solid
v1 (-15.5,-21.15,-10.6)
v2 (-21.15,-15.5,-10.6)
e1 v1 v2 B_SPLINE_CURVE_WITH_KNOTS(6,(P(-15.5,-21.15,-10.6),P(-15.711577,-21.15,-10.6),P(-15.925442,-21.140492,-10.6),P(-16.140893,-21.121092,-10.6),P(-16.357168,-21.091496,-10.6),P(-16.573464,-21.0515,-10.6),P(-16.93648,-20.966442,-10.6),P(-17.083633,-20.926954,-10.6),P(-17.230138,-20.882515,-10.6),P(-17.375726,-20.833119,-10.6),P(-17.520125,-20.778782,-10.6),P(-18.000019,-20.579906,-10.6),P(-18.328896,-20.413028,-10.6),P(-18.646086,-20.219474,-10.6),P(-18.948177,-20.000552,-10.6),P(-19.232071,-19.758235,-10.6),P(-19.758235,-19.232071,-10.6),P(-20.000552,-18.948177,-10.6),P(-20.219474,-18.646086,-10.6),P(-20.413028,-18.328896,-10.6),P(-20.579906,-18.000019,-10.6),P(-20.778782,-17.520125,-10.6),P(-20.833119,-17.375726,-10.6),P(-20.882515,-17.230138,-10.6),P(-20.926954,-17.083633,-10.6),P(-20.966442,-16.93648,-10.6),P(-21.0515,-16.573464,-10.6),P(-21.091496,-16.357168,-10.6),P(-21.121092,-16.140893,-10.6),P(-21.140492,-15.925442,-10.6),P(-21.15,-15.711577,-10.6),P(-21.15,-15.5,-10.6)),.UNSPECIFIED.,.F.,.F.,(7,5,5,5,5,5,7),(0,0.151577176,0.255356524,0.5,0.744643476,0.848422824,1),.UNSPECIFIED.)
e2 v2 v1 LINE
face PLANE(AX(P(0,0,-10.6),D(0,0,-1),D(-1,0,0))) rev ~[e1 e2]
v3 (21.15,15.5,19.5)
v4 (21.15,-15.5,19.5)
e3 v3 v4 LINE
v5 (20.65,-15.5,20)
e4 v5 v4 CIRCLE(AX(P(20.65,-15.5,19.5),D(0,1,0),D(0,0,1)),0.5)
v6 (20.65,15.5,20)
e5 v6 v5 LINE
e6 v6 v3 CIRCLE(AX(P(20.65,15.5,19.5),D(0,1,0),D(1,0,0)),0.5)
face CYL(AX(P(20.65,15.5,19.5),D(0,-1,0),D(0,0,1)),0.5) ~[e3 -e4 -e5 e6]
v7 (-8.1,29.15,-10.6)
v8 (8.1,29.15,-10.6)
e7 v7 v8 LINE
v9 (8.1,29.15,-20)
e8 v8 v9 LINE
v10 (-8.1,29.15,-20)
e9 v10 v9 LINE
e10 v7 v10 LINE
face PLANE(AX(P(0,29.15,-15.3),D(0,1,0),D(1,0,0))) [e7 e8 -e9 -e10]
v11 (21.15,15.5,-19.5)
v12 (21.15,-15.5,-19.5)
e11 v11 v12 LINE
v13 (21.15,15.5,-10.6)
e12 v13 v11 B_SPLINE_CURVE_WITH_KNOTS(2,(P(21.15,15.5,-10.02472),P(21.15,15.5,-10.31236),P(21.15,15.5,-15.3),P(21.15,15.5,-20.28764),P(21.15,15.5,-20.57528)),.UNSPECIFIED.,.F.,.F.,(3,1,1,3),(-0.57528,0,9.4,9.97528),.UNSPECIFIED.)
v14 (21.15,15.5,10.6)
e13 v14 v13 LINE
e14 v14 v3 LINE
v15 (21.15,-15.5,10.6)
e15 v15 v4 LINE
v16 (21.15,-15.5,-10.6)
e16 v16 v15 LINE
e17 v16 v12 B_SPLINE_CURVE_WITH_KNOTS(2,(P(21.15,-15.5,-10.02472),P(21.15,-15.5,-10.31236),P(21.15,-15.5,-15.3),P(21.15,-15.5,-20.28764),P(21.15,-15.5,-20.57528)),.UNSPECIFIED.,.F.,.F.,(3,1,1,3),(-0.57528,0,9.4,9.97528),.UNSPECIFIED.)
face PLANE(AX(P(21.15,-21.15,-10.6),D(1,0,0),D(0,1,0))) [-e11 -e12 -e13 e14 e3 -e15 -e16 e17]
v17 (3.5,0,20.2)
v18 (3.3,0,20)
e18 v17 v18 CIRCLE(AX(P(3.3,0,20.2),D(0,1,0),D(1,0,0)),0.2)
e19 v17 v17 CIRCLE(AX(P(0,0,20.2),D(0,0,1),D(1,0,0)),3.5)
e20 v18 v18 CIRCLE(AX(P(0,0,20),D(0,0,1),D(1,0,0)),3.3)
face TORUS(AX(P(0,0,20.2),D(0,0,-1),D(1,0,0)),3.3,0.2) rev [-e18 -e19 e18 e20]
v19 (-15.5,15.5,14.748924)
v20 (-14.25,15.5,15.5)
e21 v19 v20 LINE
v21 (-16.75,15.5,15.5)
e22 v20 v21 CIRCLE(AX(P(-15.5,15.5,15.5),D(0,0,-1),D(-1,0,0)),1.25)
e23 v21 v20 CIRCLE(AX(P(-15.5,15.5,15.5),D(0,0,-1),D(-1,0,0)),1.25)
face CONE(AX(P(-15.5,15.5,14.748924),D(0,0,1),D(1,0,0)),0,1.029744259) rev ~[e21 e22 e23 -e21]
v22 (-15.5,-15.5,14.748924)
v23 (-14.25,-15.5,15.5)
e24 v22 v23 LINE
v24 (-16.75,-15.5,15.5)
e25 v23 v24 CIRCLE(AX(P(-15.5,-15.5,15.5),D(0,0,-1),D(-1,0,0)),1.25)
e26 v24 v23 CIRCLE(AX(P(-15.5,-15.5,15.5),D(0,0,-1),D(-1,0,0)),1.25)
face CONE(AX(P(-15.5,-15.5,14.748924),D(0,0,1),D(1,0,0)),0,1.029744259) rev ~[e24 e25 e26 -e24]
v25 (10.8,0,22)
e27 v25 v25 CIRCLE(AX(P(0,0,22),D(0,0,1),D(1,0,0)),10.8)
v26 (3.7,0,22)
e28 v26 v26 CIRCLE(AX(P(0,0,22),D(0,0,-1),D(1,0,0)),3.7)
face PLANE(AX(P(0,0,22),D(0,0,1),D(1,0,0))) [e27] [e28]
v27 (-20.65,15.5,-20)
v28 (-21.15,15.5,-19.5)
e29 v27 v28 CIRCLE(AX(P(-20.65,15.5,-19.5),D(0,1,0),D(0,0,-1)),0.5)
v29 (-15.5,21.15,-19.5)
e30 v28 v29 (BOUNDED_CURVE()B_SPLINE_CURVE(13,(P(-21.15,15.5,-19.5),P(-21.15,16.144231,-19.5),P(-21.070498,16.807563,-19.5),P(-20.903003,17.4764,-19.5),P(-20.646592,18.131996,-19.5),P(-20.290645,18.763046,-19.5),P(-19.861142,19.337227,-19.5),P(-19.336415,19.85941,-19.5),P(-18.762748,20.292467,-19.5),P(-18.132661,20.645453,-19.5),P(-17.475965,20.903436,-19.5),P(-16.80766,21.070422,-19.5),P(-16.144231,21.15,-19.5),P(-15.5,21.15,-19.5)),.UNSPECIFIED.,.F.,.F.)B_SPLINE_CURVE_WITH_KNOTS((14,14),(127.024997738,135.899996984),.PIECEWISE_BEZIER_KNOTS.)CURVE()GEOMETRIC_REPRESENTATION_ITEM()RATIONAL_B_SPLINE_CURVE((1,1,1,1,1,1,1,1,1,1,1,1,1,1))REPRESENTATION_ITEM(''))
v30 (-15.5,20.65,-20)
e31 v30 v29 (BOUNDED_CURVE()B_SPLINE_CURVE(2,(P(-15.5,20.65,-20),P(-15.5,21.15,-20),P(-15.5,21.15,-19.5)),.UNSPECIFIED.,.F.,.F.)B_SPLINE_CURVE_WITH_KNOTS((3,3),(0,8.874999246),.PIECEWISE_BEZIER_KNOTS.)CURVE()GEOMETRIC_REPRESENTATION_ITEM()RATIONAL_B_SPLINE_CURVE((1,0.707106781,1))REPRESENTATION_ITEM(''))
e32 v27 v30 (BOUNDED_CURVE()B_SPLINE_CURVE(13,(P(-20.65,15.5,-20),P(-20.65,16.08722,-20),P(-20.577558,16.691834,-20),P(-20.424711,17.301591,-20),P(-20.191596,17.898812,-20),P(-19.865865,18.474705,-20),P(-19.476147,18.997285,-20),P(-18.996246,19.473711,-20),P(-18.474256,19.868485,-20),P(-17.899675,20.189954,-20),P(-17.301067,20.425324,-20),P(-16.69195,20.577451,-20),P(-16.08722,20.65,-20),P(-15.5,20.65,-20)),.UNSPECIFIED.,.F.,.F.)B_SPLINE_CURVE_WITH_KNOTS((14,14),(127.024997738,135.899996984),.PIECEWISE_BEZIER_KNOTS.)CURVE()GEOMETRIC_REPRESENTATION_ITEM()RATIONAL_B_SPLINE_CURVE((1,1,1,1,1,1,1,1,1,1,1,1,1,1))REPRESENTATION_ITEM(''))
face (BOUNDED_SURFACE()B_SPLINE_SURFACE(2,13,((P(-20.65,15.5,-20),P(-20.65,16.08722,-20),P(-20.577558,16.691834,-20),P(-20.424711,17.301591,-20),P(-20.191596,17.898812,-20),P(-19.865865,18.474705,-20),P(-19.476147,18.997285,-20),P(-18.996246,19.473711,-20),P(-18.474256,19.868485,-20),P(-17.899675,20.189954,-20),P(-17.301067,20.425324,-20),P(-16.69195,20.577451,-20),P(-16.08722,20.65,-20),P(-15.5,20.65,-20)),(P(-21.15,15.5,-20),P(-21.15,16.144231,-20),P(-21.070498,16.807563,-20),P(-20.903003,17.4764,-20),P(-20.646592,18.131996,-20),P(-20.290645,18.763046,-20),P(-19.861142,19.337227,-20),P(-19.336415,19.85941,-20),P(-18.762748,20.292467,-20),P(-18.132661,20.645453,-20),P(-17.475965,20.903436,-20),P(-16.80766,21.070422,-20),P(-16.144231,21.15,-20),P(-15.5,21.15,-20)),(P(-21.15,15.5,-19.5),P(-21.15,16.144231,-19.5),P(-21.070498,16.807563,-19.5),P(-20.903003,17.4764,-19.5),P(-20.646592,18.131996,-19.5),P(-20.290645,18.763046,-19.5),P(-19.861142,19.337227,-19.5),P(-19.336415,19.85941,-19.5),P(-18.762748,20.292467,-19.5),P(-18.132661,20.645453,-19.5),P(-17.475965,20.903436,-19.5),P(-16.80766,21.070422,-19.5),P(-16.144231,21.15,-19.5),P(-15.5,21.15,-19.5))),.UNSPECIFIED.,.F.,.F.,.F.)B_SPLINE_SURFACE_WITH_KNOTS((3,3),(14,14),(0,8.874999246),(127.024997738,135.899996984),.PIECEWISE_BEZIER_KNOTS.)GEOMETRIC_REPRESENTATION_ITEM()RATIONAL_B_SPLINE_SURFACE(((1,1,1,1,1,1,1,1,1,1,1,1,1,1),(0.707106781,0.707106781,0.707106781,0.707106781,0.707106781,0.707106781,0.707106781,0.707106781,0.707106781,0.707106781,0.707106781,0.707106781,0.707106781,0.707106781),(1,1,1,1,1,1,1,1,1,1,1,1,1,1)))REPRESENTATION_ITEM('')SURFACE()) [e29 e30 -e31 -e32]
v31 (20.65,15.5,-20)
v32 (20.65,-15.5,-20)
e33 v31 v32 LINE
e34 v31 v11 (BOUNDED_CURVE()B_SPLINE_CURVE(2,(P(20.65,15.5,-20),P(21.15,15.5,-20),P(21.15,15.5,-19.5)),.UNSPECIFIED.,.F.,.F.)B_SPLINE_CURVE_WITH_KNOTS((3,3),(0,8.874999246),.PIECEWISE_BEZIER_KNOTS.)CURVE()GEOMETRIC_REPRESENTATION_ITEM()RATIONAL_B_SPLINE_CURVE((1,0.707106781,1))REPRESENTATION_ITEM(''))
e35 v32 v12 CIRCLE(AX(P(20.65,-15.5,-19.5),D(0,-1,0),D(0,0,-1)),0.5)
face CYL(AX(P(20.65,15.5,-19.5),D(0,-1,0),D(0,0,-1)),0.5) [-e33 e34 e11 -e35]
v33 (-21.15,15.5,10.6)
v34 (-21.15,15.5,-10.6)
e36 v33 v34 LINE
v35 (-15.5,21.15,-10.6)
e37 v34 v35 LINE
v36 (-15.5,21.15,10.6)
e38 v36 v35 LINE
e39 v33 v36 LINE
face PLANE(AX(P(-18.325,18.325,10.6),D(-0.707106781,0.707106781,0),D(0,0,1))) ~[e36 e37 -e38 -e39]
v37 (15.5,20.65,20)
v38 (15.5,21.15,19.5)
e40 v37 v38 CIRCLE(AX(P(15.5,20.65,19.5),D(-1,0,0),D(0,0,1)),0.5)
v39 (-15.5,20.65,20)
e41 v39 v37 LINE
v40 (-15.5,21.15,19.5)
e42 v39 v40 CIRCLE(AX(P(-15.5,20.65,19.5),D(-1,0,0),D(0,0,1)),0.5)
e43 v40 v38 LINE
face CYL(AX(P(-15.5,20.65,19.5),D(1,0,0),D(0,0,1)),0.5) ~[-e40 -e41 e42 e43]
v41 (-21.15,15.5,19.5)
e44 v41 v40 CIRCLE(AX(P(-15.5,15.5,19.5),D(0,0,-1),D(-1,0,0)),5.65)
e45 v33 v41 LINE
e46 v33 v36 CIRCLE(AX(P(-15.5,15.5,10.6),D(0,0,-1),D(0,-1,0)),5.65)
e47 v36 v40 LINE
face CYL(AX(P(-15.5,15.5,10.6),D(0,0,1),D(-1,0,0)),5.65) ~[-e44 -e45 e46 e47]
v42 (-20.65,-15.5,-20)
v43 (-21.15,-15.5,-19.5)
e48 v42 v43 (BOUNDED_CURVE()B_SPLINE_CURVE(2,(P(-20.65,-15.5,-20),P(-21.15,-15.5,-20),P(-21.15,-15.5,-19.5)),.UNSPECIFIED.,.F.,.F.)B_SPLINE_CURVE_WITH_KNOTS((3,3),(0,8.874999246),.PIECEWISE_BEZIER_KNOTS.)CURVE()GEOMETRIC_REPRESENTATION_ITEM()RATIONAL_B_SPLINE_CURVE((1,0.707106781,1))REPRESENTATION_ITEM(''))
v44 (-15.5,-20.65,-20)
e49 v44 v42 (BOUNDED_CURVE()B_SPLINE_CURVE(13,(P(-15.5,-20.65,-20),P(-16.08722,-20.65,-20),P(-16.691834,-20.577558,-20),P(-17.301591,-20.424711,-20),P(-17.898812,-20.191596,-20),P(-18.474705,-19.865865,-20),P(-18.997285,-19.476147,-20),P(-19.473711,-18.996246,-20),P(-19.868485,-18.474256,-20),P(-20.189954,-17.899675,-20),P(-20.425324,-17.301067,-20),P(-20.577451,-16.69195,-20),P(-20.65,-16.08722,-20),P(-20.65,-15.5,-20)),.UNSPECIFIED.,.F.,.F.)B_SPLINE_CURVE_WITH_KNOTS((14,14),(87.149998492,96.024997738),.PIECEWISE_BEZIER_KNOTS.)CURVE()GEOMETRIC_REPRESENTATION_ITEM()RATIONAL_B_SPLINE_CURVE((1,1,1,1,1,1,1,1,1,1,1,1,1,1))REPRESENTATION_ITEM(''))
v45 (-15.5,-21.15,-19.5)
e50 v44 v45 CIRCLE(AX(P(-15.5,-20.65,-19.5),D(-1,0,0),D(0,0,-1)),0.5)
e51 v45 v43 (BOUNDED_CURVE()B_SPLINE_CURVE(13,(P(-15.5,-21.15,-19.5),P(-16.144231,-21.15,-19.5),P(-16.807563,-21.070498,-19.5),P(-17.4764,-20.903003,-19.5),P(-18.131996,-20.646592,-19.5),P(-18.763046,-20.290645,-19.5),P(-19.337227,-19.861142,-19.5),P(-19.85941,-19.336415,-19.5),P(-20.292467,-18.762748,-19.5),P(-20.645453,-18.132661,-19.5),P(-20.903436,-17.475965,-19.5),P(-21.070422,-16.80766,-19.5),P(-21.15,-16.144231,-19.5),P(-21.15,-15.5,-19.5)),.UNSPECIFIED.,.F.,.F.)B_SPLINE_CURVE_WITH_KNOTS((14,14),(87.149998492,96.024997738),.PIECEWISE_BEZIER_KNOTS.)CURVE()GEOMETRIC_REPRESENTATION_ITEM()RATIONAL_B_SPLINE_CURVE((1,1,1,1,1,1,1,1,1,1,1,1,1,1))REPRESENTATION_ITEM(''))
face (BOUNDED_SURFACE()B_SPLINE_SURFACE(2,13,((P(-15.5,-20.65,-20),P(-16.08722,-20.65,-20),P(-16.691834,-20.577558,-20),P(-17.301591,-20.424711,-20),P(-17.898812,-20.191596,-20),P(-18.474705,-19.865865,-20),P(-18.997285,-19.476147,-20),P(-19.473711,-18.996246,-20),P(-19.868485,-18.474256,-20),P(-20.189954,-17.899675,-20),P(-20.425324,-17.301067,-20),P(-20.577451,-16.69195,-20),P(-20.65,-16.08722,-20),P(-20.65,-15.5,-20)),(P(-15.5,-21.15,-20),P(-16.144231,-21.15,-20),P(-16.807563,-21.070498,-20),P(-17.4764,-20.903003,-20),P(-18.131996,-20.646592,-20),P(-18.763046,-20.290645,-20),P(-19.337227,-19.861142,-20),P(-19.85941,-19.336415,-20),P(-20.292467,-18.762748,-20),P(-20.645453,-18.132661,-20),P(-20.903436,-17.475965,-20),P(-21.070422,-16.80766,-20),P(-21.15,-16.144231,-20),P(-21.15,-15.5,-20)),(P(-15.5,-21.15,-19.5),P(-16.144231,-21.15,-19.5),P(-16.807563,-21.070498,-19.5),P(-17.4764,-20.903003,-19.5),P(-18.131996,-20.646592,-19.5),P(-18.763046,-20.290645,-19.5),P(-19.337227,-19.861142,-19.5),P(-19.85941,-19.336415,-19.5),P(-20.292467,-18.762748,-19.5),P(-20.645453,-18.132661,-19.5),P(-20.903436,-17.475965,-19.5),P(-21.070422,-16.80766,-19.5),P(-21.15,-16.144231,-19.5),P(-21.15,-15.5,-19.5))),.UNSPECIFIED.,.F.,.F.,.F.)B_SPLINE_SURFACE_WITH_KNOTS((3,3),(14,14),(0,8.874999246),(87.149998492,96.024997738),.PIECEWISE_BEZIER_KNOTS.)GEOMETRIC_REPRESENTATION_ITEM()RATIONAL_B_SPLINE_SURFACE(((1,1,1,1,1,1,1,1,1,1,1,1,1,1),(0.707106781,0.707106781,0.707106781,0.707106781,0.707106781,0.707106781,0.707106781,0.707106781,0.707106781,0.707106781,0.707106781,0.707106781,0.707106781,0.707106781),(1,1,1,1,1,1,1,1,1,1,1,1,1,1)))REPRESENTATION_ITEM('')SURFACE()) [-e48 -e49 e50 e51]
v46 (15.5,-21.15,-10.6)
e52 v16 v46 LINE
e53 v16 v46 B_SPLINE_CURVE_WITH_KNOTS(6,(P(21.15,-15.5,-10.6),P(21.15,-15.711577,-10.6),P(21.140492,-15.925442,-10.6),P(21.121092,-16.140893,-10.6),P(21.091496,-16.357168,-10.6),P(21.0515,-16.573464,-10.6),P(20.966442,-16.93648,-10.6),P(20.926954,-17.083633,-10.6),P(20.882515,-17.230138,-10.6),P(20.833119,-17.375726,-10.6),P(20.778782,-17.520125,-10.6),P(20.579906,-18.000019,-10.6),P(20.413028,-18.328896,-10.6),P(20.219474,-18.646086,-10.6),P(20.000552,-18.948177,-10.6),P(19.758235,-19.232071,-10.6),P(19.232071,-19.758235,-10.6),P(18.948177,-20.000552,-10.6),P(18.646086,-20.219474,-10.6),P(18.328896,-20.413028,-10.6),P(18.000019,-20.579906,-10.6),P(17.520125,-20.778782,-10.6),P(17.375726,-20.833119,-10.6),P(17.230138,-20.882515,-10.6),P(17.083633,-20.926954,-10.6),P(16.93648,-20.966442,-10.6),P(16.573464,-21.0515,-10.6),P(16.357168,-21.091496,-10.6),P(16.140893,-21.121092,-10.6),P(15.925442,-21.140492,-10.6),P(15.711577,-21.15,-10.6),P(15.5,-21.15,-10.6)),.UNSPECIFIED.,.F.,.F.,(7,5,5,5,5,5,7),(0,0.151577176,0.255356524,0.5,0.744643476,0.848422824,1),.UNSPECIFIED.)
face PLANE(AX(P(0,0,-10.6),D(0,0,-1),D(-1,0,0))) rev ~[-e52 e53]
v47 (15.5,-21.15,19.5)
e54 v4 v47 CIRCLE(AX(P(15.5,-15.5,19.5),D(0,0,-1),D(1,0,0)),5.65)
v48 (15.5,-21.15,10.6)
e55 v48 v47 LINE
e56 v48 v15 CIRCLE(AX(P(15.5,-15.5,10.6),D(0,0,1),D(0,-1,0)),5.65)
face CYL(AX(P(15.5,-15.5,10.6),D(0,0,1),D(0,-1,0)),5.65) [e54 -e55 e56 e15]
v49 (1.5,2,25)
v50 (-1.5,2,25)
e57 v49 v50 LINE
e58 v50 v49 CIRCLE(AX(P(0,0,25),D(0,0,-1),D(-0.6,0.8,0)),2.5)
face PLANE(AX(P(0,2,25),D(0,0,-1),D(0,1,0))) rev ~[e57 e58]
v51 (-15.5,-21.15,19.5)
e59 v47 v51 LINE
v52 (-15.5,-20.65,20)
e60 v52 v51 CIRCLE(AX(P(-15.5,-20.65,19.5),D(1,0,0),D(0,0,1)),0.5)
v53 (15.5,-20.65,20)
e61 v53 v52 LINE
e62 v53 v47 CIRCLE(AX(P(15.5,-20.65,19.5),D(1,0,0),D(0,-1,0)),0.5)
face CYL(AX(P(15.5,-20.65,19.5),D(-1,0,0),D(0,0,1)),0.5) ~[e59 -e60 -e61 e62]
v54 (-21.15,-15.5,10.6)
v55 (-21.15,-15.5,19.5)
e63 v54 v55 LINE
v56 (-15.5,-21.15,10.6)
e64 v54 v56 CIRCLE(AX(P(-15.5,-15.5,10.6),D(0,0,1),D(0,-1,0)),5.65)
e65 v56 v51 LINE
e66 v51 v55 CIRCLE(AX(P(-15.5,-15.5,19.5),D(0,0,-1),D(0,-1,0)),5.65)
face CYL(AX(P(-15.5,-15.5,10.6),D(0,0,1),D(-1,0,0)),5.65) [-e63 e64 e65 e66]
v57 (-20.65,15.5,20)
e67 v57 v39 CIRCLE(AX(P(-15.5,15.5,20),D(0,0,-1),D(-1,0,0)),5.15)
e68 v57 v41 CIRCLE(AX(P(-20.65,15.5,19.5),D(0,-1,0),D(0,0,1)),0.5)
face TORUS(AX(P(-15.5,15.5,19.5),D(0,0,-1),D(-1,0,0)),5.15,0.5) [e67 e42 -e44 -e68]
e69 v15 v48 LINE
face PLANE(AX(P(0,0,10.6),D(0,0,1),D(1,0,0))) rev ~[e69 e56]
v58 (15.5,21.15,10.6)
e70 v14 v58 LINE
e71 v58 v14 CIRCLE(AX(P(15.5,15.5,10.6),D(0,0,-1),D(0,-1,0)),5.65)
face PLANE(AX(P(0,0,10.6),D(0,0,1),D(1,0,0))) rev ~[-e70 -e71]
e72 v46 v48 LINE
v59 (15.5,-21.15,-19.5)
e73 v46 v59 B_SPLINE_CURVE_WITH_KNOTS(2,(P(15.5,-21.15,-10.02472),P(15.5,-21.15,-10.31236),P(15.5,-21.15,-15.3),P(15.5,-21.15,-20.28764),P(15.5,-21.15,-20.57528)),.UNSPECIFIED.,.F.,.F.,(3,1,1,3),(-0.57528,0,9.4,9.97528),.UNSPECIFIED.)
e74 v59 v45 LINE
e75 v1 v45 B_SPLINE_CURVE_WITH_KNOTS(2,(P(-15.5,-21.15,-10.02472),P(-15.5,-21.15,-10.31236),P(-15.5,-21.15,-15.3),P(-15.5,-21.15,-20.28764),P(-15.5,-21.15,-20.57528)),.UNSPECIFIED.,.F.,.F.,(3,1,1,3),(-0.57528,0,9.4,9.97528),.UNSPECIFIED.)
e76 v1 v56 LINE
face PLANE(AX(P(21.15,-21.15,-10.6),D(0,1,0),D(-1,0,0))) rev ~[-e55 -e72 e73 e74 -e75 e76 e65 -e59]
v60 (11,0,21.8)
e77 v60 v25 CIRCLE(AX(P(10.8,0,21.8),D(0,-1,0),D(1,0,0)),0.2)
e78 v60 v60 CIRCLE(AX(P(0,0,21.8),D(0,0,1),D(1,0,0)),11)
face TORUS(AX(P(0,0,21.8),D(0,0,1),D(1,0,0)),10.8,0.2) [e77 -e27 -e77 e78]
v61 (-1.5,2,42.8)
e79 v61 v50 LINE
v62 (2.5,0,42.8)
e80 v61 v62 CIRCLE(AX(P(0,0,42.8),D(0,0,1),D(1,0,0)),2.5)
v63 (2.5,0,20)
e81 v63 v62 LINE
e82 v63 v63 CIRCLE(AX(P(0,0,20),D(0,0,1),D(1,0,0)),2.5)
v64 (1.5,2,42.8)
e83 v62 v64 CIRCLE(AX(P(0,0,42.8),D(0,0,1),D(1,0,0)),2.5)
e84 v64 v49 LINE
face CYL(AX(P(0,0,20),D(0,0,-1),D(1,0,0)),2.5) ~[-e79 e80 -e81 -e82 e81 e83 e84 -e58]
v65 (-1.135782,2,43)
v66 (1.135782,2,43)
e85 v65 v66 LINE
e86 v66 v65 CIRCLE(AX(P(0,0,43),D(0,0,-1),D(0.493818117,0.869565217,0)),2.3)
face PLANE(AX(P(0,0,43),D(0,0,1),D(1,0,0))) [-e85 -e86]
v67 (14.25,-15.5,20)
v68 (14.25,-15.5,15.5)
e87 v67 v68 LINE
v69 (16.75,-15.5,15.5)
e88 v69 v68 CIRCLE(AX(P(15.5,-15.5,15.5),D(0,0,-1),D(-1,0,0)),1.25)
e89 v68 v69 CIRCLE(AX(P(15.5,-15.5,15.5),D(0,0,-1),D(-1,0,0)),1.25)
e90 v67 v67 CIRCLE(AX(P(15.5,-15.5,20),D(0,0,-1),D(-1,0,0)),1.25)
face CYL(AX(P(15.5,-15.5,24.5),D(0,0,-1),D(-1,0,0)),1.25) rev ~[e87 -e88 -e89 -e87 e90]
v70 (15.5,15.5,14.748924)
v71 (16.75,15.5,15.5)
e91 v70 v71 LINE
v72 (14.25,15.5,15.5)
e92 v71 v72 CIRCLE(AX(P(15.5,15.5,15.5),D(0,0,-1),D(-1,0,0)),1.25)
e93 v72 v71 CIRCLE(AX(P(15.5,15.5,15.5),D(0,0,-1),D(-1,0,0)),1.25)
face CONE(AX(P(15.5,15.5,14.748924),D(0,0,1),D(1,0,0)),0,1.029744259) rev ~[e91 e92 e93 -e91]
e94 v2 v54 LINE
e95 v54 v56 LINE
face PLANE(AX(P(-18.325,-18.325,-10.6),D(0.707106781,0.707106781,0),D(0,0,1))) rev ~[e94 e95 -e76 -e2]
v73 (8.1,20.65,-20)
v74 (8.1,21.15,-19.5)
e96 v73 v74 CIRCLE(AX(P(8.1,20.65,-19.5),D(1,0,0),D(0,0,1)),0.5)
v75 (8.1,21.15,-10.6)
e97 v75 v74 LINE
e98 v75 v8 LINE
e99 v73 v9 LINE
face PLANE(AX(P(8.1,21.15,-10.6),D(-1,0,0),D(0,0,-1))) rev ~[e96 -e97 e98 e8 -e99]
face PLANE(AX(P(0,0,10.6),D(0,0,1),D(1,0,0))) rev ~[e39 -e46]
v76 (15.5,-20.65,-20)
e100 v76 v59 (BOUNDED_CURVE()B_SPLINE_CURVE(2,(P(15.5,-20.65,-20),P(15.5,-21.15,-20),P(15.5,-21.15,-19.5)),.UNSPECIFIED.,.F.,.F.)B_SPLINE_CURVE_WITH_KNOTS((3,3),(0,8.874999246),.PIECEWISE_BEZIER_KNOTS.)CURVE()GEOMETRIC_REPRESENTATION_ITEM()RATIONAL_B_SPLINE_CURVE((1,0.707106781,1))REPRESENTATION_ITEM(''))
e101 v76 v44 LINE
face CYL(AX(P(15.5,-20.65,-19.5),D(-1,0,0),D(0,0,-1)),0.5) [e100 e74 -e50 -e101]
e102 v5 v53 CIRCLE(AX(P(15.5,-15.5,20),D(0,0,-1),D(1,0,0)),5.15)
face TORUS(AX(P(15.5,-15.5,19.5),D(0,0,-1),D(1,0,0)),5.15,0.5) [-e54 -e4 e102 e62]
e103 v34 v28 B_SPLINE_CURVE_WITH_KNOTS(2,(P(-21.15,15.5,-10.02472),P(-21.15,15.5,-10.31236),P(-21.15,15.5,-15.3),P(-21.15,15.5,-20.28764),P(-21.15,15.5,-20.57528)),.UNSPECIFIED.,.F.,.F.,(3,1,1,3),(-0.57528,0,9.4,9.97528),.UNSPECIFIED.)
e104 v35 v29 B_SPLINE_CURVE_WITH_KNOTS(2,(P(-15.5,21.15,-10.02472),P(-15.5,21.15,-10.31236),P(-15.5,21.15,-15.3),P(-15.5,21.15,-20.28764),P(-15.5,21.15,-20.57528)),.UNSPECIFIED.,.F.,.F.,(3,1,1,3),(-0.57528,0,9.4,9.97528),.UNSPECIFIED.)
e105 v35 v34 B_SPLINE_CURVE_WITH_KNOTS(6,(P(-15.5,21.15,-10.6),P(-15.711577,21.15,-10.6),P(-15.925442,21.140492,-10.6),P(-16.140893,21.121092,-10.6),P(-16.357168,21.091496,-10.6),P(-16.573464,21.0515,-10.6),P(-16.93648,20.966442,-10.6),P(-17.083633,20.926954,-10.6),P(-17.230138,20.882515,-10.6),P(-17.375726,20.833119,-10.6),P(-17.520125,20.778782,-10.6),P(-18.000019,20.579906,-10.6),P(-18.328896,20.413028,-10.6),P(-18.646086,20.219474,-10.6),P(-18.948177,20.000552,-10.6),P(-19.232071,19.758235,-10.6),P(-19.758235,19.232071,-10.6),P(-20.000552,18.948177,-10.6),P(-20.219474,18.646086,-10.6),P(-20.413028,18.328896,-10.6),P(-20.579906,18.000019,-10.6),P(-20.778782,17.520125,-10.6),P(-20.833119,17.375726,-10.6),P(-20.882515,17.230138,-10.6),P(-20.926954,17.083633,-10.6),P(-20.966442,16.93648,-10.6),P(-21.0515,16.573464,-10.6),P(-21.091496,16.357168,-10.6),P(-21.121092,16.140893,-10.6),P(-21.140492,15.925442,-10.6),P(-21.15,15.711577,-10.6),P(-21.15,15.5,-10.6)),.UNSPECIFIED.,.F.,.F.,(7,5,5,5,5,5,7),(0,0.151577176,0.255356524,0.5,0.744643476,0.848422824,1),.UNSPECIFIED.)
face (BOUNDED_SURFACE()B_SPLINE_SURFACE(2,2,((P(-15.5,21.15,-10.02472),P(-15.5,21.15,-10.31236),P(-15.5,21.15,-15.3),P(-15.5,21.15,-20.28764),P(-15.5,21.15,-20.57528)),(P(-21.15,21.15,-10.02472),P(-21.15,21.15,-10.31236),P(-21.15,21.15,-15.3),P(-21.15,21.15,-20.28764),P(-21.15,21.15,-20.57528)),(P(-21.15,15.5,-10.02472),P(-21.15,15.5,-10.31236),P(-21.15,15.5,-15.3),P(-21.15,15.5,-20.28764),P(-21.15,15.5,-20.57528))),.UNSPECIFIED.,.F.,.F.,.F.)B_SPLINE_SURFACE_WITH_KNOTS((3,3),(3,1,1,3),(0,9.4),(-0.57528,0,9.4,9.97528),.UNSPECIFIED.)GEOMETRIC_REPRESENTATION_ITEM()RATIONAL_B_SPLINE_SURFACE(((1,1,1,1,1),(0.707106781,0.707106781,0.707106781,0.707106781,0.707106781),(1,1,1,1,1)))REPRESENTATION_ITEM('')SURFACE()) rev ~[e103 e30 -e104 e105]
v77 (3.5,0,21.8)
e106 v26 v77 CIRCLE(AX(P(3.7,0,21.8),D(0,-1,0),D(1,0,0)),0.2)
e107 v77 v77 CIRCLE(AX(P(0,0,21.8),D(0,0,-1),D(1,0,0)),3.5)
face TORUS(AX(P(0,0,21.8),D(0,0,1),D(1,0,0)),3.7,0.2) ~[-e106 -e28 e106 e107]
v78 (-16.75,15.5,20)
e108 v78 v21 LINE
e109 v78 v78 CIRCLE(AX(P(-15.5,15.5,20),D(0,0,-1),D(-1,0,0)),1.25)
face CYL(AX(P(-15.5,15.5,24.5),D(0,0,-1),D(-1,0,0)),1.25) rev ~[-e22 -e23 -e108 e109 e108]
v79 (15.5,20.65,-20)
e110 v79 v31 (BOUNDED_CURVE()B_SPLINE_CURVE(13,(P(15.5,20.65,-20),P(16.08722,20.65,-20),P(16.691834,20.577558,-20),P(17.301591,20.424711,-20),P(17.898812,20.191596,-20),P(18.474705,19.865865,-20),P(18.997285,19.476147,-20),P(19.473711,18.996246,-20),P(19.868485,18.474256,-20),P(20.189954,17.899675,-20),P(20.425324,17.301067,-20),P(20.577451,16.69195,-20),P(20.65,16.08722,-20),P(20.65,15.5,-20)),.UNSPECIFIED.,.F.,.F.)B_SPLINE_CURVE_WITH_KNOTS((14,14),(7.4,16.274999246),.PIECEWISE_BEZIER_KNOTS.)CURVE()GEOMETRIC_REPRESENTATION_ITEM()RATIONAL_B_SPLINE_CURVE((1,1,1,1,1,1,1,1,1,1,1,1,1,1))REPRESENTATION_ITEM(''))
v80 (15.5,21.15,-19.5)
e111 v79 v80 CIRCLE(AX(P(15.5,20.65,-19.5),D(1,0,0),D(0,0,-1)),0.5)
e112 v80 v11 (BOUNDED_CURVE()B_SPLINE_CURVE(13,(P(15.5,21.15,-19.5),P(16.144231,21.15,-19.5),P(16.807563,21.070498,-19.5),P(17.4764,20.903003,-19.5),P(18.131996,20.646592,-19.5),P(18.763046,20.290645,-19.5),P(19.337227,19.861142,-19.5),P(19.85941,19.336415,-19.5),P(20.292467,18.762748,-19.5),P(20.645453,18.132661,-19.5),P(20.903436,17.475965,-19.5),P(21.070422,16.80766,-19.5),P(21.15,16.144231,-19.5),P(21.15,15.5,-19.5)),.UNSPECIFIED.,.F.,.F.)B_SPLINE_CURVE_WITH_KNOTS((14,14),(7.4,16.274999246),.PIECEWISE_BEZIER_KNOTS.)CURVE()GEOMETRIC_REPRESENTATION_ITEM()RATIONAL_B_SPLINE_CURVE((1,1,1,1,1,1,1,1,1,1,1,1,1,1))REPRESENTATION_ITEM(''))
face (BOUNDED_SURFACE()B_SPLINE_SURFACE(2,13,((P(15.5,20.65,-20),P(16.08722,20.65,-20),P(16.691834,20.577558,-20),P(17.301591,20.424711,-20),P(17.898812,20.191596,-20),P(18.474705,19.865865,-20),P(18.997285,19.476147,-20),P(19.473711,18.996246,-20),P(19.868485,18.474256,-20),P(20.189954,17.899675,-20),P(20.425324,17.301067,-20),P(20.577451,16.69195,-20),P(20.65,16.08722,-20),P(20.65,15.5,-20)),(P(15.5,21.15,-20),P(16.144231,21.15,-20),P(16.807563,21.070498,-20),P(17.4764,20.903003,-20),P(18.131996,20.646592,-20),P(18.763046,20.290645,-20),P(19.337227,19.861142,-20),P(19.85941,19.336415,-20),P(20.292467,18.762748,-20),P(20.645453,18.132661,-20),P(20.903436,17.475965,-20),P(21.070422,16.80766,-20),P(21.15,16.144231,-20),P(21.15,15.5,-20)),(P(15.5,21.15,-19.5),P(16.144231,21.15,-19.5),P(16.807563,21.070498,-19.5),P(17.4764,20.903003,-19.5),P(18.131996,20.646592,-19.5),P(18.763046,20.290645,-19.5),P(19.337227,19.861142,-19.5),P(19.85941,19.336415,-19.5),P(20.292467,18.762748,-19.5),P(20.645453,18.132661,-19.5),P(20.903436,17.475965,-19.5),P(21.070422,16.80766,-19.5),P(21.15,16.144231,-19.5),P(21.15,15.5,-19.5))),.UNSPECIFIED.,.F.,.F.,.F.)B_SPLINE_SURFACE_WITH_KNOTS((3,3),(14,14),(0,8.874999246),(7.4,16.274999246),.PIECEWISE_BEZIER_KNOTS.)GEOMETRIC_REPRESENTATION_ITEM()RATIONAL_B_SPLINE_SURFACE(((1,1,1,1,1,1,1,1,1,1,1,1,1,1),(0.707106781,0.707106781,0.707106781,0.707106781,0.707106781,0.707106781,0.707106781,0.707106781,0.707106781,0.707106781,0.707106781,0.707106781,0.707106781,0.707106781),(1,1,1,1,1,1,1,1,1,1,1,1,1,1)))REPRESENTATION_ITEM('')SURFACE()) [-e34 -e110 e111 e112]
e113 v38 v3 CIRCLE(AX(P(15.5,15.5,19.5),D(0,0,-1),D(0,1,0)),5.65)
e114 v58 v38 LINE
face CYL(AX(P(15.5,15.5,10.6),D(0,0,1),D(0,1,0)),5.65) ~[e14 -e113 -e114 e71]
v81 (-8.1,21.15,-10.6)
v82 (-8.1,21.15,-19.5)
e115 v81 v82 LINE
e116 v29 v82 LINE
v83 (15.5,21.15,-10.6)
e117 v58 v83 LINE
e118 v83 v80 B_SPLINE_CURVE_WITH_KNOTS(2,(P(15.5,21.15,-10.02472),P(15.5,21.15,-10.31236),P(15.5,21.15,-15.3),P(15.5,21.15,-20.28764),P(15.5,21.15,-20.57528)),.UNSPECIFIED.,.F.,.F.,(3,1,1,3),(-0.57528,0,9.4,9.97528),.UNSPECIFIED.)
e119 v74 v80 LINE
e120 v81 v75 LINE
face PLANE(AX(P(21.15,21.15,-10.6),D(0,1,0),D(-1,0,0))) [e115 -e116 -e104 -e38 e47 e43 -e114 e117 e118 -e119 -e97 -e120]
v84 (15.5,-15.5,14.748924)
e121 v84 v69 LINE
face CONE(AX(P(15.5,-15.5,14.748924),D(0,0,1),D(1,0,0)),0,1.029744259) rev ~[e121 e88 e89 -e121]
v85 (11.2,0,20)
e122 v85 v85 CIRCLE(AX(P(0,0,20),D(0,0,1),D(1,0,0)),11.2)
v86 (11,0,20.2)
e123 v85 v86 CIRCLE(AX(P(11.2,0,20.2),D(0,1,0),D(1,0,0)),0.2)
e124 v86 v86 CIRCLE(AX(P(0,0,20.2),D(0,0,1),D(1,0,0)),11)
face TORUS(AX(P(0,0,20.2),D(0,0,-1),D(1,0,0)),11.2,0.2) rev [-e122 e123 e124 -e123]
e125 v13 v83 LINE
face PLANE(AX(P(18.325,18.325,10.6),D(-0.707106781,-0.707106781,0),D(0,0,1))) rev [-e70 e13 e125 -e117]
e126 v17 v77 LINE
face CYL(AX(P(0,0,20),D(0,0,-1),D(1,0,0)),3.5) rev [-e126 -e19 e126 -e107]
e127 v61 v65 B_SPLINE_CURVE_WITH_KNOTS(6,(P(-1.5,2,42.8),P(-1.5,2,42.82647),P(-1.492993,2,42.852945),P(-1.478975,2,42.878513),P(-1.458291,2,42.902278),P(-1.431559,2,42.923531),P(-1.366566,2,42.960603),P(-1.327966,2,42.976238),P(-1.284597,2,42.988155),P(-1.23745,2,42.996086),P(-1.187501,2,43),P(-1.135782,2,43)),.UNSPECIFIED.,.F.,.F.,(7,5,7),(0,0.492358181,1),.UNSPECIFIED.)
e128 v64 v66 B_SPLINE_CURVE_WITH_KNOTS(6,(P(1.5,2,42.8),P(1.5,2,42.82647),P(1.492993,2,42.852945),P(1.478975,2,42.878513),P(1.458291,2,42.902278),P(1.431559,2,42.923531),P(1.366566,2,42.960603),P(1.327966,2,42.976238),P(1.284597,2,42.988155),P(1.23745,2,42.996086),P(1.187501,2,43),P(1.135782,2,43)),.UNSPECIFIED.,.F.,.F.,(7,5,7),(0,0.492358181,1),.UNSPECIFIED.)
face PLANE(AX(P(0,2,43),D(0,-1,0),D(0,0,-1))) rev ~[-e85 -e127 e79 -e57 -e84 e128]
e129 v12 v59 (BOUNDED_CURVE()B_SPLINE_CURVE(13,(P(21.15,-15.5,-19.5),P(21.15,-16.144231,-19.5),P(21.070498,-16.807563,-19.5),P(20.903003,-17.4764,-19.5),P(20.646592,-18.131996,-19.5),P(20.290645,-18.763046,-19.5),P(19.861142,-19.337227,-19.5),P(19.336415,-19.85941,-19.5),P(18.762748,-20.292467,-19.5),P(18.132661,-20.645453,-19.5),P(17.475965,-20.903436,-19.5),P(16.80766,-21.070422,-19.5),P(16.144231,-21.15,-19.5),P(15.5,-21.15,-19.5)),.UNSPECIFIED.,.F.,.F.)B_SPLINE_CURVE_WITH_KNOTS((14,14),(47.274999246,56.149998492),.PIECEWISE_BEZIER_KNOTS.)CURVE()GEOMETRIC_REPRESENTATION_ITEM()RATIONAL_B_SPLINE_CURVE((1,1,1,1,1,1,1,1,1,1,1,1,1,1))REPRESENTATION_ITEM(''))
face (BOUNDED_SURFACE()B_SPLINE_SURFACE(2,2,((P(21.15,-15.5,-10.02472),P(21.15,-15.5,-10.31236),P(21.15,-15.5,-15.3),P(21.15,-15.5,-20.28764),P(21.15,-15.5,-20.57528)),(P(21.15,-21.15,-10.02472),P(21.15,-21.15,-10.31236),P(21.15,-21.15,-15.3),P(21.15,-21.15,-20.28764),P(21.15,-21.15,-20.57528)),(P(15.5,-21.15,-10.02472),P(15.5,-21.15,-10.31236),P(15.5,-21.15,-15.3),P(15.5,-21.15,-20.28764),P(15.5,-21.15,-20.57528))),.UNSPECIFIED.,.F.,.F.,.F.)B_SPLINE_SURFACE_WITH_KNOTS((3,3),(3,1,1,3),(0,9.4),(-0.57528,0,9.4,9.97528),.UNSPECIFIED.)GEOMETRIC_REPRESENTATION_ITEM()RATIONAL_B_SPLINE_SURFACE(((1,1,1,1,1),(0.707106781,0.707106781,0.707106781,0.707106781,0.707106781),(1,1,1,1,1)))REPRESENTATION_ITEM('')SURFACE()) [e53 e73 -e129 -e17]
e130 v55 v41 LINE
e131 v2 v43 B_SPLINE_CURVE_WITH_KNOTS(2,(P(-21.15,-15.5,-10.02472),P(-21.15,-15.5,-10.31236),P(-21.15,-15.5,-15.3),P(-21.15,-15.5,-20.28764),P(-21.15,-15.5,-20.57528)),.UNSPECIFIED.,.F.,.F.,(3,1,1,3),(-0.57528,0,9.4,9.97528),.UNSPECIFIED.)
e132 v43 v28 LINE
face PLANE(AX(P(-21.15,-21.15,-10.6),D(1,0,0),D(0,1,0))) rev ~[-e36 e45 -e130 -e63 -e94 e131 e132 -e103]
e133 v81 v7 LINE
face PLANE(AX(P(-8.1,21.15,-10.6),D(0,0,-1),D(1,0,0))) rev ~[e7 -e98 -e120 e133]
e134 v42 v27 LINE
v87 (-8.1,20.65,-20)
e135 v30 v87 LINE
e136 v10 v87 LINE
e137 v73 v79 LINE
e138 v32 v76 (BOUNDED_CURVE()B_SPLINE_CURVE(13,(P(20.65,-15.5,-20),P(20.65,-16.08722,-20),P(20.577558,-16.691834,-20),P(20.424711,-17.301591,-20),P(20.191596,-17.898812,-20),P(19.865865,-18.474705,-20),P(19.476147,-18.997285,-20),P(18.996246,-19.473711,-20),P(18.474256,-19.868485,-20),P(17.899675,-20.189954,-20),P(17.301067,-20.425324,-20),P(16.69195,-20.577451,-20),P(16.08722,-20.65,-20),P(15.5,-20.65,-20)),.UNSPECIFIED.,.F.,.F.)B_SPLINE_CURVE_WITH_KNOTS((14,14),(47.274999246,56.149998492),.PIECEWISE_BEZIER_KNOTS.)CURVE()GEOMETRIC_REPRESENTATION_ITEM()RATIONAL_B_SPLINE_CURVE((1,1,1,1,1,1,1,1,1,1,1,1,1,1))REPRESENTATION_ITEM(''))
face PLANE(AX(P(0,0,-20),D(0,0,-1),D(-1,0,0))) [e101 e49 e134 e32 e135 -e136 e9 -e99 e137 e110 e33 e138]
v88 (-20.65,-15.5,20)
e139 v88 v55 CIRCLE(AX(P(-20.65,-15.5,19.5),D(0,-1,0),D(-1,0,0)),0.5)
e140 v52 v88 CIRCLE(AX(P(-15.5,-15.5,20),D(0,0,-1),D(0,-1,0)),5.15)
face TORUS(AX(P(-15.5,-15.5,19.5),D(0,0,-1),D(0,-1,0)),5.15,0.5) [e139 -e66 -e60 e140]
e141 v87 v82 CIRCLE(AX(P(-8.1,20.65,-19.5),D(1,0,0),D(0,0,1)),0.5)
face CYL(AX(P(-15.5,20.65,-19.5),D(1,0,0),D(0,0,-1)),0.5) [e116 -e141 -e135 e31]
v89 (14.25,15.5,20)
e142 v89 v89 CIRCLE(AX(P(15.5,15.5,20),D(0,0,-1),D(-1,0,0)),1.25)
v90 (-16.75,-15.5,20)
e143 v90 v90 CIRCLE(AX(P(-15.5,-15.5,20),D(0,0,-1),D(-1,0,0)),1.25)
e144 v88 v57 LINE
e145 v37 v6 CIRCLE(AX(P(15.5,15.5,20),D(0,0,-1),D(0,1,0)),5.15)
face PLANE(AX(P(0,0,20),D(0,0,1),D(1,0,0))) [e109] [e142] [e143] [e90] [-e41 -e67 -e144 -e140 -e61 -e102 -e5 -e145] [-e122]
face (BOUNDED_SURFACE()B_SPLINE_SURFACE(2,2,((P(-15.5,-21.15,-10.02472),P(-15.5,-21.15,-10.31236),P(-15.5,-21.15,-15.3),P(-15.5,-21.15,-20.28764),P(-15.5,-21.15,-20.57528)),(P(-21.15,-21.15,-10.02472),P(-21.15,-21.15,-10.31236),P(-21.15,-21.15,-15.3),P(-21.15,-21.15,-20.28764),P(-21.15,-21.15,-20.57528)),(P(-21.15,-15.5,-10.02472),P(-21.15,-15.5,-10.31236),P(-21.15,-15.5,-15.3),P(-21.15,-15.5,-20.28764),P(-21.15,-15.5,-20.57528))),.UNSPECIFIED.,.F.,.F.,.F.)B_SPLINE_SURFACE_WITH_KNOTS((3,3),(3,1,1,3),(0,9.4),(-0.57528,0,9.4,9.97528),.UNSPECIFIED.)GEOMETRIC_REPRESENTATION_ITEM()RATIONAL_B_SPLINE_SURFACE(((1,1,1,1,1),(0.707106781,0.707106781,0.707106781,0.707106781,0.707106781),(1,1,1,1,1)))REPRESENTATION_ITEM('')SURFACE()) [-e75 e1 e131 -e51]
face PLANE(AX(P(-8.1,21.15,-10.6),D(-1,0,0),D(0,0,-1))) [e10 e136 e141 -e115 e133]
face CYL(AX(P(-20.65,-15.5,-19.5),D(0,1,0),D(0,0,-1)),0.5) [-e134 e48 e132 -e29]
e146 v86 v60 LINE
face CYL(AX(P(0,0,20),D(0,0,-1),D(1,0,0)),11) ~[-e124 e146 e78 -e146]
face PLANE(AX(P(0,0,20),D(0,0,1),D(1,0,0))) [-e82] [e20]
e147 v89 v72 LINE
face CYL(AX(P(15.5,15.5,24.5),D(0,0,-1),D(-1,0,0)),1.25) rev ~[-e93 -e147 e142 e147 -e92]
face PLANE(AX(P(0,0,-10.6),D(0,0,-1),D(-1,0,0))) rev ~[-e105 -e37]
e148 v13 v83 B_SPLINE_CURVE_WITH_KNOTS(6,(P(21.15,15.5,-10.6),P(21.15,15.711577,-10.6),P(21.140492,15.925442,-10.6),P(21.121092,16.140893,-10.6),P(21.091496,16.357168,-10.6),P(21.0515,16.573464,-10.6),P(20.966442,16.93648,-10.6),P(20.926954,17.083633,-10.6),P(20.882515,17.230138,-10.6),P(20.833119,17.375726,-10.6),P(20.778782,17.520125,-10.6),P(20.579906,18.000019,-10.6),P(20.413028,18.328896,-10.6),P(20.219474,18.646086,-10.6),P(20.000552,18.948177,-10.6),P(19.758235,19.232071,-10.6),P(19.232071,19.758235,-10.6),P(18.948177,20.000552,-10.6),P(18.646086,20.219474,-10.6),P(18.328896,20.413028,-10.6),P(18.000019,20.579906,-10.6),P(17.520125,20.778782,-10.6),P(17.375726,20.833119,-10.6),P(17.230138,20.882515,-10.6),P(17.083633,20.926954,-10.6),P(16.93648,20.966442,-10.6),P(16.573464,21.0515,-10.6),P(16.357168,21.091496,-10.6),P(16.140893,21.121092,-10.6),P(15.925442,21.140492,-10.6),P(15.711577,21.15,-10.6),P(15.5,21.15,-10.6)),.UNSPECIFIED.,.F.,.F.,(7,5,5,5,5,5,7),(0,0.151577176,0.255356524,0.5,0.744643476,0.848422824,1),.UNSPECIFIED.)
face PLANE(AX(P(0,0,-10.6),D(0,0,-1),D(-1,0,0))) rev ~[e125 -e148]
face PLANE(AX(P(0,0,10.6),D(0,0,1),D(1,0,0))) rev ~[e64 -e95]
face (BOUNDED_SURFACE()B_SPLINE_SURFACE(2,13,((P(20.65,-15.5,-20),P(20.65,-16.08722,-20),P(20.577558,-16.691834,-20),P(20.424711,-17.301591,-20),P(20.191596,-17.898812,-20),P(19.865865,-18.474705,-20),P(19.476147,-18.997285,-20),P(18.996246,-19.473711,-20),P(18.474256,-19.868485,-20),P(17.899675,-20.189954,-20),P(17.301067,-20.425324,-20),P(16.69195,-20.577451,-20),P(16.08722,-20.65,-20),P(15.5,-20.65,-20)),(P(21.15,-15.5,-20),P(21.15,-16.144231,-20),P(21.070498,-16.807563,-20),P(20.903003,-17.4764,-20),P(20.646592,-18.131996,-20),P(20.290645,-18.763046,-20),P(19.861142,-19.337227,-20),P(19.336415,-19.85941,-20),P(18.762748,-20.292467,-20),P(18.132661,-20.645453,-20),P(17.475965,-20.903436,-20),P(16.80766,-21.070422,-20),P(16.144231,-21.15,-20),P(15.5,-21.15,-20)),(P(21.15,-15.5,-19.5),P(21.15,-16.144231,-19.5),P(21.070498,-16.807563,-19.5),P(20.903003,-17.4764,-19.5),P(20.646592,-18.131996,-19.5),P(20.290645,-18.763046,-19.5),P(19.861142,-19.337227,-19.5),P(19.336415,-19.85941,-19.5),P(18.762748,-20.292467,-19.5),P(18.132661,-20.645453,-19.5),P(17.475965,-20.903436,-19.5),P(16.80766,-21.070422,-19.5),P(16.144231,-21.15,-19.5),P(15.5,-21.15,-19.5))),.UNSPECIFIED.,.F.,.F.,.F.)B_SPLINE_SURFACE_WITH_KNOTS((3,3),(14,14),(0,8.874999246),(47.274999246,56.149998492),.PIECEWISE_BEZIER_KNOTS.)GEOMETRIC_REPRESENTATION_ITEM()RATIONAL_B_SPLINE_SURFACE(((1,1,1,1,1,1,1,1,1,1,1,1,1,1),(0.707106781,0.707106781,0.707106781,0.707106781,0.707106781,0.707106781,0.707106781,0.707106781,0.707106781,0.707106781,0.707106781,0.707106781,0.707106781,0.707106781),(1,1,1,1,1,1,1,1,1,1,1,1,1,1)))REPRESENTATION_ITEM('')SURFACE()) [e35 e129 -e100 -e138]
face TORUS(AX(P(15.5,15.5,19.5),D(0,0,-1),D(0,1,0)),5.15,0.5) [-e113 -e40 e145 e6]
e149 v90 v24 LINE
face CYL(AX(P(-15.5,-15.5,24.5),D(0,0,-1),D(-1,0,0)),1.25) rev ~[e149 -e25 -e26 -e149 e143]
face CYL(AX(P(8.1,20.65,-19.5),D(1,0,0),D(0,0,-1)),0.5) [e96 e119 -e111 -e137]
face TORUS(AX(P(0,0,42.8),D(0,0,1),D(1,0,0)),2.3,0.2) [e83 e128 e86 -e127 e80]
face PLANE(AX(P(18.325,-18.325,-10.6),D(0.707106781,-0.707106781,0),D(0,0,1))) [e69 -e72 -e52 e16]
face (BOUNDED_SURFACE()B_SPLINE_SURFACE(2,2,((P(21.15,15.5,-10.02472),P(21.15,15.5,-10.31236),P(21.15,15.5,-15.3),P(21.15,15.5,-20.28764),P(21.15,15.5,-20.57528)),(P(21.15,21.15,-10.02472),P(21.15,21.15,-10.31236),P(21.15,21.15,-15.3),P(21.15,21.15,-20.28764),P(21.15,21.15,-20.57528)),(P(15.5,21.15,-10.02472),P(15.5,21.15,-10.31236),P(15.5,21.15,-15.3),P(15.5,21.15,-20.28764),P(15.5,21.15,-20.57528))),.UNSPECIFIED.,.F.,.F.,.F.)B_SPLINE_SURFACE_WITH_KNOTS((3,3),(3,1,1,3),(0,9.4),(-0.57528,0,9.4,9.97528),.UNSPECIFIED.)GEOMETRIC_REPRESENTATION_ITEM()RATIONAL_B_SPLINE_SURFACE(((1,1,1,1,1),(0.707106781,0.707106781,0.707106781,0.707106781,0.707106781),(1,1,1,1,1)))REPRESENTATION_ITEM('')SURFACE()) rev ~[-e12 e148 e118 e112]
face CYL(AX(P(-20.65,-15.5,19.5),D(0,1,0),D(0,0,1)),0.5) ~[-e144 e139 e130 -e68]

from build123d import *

# Parameters (mm, degrees)
SKETCH_1_W               = 42.3
SKETCH_1_H               = 42.3
EXTRUDE_1_DEPTH          = 10.6
CHAMFER_1_SIZE           = 5.65
SKETCH_3_W               = 42.3
SKETCH_3_H               = 42.3
EXTRUDE_2_DEPTH          = 9.4
FILLET_1_R               = 5.65
HOLE_WIZARD_M3_1_D       = 2.5
HOLE_WIZARD_M3_1_DEPTH   = 4.5
HOLE_WIZARD_M3_1_TIP     = 0.751075774
SKETCH_6_W               = 42.3
SKETCH_6_H               = 42.3
EXTRUDE_3_DEPTH          = 9.4
FILLET_2_R               = 5.65
SKETCH_7_W               = 16.2
SKETCH_7_H               = 9.4
EXTRUDE_4_DEPTH          = 8
SKETCH_8_R               = 11
EXTRUDE_5_DEPTH          = 2
FILLET_3_R               = 0.2
CUT_EXTRUDE_2_REACH      = 4
SKETCH_9_R               = 3.5
FILLET_4_R               = 0.2
SKETCH_11_R              = 2.5
EXTRUDE_7_DEPTH          = 23
FILLET_5_R               = 0.2
SKETCH_12_W              = 18
SKETCH_12_H              = 0.5
CUT_EXTRUDE_3_DEPTH      = 22.1500001
CUT_EXTRUDE_3_DEPTH_BACK = 22.1500001
FILLET_6_R               = 0.5


with BuildPart() as part:
    # 草图1 → 凸台-拉伸1 (new body, symmetric)
    with BuildSketch(Plane.XY):
        Rectangle(SKETCH_1_W, SKETCH_1_H)
    extrude(amount=EXTRUDE_1_DEPTH, both=True)

    # 倒角1
    chamfer_1_edges = [part.edges().sort_by_distance(p)[0] for p in [
        (21.15, -21.15, 0),
        (-21.15, -21.15, 0),
        (-21.15, 21.15, 0),
        (21.15, 21.15, 0),
    ]]
    chamfer(chamfer_1_edges, length=CHAMFER_1_SIZE)

    # 草图3 → 凸台-拉伸2 (add)
    with BuildSketch(Plane.XY.offset(10.6)):
        Rectangle(SKETCH_3_W, SKETCH_3_H)
    extrude(amount=EXTRUDE_2_DEPTH)

    # 圆角1
    fillet_1_edges = [part.edges().sort_by_distance(p)[0] for p in [
        (21.15, 21.15, 15.3),
        (21.15, -21.15, 15.3),
        (-21.15, -21.15, 15.3),
        (-21.15, 21.15, 15.3),
    ]]
    fillet(fillet_1_edges, radius=FILLET_1_R)

    # M3 螺纹孔1
    with Locations(Plane.XY.offset(20)):
        with Locations((-15.5, -15.5), (15.5, -15.5), (15.5, 15.5), (-15.5, 15.5)):
            Hole(HOLE_WIZARD_M3_1_D / 2, depth=HOLE_WIZARD_M3_1_DEPTH)
            with Locations((0, 0, -(HOLE_WIZARD_M3_1_DEPTH + HOLE_WIZARD_M3_1_TIP / 2))):  # 118° drill point
                Cone(0, HOLE_WIZARD_M3_1_D / 2, HOLE_WIZARD_M3_1_TIP, mode=Mode.SUBTRACT)

    # 草图6 → 凸台-拉伸3 (add)
    with BuildSketch(Plane(origin=(0, 0, -10.6), x_dir=(-1, 0, 0), z_dir=(0, 0, -1))):
        Rectangle(SKETCH_6_W, SKETCH_6_H)
    extrude(amount=EXTRUDE_3_DEPTH)

    # 圆角2
    fillet_2_edges = [part.edges().sort_by_distance(p)[0] for p in [
        (-21.15, -21.15, -15.3),
        (21.15, -21.15, -15.3),
        (21.15, 21.15, -15.3),
        (-21.15, 21.15, -15.3),
    ]]
    fillet(fillet_2_edges, radius=FILLET_2_R)

    # 草图7 → 凸台-拉伸4 (add)
    with BuildSketch(Plane(origin=(0, 21.15, 0), x_dir=(1, 0, 0), z_dir=(0, 1, 0))):
        with Locations((0, 15.3)):
            Rectangle(SKETCH_7_W, SKETCH_7_H)
    extrude(amount=EXTRUDE_4_DEPTH)

    # 草图8 → 凸台-拉伸5 (add)
    with BuildSketch(Plane.XY.offset(20)):
        Circle(SKETCH_8_R)
    extrude(amount=EXTRUDE_5_DEPTH)

    # 圆角3
    fillet_3_edges = [part.edges().sort_by_distance(p)[0] for p in [
        (-11, 0, 20),
        (-11, 0, 22),
    ]]
    fillet(fillet_3_edges, radius=FILLET_3_R)

    # 草图9 → 切除-拉伸2 (cut, up to next)
    with BuildSketch(Plane.XY.offset(20), mode=Mode.PRIVATE) as cut_extrude_2_sk1:
        Circle(SKETCH_9_R)
    cut_extrude_2_tool1 = extrude(cut_extrude_2_sk1.sketch, amount=CUT_EXTRUDE_2_REACH, mode=Mode.PRIVATE) & part.part
    add(cut_extrude_2_tool1.solids().sort_by_distance((0, 0, 20))[0], mode=Mode.SUBTRACT)

    # 圆角4
    fillet_4_edges = [part.edges().sort_by_distance(p)[0] for p in [
        (-3.5, 0, 20),
        (-3.5, 0, 22),
    ]]
    fillet(fillet_4_edges, radius=FILLET_4_R)

    # 草图11 → 凸台-拉伸7 (add)
    with BuildSketch(Plane.XY.offset(20)):
        Circle(SKETCH_11_R)
    extrude(amount=EXTRUDE_7_DEPTH)

    # 圆角5
    fillet_5_edges = [part.edges().sort_by_distance(p)[0] for p in [
        (-2.5, 0, 43),
    ]]
    fillet(fillet_5_edges, radius=FILLET_5_R)

    # 草图12 → 切除-拉伸3 (cut, two sides)
    with BuildSketch(Plane(origin=(0, 0, 0), x_dir=(0, 0, -1), z_dir=(1, 0, 0))) as cut_extrude_3_sk:
        with Locations((-34, 2.25)):
            Rectangle(SKETCH_12_W, SKETCH_12_H)
    extrude(amount=CUT_EXTRUDE_3_DEPTH, mode=Mode.SUBTRACT)
    extrude(cut_extrude_3_sk.sketch, amount=-CUT_EXTRUDE_3_DEPTH_BACK, mode=Mode.SUBTRACT)

    # 圆角6
    fillet_6_edges = [part.edges().sort_by_distance(p)[0] for p in [
        (-21.15, 0, -20),
        (0, -21.15, -20),
        (21.15, 0, -20),
        (-11.8, 21.15, -20),
        (-19.495153314, 19.495153314, -20),
        (19.495153314, 19.495153314, -20),
        (19.495153314, -19.495153314, -20),
        (-19.495153314, -19.495153314, -20),
        (11.8, 21.15, -20),
        (0, 21.15, 20),
        (21.15, 0, 20),
        (-21.15, 0, 20),
        (0, -21.15, 20),
        (-19.495153314, 19.495153314, 20),
        (-19.495153314, -19.495153314, 20),
        (19.495153314, -19.495153314, 20),
        (19.495153314, 19.495153314, 20),
    ]]
    fillet(fillet_6_edges, radius=FILLET_6_R)


solid = part.part
